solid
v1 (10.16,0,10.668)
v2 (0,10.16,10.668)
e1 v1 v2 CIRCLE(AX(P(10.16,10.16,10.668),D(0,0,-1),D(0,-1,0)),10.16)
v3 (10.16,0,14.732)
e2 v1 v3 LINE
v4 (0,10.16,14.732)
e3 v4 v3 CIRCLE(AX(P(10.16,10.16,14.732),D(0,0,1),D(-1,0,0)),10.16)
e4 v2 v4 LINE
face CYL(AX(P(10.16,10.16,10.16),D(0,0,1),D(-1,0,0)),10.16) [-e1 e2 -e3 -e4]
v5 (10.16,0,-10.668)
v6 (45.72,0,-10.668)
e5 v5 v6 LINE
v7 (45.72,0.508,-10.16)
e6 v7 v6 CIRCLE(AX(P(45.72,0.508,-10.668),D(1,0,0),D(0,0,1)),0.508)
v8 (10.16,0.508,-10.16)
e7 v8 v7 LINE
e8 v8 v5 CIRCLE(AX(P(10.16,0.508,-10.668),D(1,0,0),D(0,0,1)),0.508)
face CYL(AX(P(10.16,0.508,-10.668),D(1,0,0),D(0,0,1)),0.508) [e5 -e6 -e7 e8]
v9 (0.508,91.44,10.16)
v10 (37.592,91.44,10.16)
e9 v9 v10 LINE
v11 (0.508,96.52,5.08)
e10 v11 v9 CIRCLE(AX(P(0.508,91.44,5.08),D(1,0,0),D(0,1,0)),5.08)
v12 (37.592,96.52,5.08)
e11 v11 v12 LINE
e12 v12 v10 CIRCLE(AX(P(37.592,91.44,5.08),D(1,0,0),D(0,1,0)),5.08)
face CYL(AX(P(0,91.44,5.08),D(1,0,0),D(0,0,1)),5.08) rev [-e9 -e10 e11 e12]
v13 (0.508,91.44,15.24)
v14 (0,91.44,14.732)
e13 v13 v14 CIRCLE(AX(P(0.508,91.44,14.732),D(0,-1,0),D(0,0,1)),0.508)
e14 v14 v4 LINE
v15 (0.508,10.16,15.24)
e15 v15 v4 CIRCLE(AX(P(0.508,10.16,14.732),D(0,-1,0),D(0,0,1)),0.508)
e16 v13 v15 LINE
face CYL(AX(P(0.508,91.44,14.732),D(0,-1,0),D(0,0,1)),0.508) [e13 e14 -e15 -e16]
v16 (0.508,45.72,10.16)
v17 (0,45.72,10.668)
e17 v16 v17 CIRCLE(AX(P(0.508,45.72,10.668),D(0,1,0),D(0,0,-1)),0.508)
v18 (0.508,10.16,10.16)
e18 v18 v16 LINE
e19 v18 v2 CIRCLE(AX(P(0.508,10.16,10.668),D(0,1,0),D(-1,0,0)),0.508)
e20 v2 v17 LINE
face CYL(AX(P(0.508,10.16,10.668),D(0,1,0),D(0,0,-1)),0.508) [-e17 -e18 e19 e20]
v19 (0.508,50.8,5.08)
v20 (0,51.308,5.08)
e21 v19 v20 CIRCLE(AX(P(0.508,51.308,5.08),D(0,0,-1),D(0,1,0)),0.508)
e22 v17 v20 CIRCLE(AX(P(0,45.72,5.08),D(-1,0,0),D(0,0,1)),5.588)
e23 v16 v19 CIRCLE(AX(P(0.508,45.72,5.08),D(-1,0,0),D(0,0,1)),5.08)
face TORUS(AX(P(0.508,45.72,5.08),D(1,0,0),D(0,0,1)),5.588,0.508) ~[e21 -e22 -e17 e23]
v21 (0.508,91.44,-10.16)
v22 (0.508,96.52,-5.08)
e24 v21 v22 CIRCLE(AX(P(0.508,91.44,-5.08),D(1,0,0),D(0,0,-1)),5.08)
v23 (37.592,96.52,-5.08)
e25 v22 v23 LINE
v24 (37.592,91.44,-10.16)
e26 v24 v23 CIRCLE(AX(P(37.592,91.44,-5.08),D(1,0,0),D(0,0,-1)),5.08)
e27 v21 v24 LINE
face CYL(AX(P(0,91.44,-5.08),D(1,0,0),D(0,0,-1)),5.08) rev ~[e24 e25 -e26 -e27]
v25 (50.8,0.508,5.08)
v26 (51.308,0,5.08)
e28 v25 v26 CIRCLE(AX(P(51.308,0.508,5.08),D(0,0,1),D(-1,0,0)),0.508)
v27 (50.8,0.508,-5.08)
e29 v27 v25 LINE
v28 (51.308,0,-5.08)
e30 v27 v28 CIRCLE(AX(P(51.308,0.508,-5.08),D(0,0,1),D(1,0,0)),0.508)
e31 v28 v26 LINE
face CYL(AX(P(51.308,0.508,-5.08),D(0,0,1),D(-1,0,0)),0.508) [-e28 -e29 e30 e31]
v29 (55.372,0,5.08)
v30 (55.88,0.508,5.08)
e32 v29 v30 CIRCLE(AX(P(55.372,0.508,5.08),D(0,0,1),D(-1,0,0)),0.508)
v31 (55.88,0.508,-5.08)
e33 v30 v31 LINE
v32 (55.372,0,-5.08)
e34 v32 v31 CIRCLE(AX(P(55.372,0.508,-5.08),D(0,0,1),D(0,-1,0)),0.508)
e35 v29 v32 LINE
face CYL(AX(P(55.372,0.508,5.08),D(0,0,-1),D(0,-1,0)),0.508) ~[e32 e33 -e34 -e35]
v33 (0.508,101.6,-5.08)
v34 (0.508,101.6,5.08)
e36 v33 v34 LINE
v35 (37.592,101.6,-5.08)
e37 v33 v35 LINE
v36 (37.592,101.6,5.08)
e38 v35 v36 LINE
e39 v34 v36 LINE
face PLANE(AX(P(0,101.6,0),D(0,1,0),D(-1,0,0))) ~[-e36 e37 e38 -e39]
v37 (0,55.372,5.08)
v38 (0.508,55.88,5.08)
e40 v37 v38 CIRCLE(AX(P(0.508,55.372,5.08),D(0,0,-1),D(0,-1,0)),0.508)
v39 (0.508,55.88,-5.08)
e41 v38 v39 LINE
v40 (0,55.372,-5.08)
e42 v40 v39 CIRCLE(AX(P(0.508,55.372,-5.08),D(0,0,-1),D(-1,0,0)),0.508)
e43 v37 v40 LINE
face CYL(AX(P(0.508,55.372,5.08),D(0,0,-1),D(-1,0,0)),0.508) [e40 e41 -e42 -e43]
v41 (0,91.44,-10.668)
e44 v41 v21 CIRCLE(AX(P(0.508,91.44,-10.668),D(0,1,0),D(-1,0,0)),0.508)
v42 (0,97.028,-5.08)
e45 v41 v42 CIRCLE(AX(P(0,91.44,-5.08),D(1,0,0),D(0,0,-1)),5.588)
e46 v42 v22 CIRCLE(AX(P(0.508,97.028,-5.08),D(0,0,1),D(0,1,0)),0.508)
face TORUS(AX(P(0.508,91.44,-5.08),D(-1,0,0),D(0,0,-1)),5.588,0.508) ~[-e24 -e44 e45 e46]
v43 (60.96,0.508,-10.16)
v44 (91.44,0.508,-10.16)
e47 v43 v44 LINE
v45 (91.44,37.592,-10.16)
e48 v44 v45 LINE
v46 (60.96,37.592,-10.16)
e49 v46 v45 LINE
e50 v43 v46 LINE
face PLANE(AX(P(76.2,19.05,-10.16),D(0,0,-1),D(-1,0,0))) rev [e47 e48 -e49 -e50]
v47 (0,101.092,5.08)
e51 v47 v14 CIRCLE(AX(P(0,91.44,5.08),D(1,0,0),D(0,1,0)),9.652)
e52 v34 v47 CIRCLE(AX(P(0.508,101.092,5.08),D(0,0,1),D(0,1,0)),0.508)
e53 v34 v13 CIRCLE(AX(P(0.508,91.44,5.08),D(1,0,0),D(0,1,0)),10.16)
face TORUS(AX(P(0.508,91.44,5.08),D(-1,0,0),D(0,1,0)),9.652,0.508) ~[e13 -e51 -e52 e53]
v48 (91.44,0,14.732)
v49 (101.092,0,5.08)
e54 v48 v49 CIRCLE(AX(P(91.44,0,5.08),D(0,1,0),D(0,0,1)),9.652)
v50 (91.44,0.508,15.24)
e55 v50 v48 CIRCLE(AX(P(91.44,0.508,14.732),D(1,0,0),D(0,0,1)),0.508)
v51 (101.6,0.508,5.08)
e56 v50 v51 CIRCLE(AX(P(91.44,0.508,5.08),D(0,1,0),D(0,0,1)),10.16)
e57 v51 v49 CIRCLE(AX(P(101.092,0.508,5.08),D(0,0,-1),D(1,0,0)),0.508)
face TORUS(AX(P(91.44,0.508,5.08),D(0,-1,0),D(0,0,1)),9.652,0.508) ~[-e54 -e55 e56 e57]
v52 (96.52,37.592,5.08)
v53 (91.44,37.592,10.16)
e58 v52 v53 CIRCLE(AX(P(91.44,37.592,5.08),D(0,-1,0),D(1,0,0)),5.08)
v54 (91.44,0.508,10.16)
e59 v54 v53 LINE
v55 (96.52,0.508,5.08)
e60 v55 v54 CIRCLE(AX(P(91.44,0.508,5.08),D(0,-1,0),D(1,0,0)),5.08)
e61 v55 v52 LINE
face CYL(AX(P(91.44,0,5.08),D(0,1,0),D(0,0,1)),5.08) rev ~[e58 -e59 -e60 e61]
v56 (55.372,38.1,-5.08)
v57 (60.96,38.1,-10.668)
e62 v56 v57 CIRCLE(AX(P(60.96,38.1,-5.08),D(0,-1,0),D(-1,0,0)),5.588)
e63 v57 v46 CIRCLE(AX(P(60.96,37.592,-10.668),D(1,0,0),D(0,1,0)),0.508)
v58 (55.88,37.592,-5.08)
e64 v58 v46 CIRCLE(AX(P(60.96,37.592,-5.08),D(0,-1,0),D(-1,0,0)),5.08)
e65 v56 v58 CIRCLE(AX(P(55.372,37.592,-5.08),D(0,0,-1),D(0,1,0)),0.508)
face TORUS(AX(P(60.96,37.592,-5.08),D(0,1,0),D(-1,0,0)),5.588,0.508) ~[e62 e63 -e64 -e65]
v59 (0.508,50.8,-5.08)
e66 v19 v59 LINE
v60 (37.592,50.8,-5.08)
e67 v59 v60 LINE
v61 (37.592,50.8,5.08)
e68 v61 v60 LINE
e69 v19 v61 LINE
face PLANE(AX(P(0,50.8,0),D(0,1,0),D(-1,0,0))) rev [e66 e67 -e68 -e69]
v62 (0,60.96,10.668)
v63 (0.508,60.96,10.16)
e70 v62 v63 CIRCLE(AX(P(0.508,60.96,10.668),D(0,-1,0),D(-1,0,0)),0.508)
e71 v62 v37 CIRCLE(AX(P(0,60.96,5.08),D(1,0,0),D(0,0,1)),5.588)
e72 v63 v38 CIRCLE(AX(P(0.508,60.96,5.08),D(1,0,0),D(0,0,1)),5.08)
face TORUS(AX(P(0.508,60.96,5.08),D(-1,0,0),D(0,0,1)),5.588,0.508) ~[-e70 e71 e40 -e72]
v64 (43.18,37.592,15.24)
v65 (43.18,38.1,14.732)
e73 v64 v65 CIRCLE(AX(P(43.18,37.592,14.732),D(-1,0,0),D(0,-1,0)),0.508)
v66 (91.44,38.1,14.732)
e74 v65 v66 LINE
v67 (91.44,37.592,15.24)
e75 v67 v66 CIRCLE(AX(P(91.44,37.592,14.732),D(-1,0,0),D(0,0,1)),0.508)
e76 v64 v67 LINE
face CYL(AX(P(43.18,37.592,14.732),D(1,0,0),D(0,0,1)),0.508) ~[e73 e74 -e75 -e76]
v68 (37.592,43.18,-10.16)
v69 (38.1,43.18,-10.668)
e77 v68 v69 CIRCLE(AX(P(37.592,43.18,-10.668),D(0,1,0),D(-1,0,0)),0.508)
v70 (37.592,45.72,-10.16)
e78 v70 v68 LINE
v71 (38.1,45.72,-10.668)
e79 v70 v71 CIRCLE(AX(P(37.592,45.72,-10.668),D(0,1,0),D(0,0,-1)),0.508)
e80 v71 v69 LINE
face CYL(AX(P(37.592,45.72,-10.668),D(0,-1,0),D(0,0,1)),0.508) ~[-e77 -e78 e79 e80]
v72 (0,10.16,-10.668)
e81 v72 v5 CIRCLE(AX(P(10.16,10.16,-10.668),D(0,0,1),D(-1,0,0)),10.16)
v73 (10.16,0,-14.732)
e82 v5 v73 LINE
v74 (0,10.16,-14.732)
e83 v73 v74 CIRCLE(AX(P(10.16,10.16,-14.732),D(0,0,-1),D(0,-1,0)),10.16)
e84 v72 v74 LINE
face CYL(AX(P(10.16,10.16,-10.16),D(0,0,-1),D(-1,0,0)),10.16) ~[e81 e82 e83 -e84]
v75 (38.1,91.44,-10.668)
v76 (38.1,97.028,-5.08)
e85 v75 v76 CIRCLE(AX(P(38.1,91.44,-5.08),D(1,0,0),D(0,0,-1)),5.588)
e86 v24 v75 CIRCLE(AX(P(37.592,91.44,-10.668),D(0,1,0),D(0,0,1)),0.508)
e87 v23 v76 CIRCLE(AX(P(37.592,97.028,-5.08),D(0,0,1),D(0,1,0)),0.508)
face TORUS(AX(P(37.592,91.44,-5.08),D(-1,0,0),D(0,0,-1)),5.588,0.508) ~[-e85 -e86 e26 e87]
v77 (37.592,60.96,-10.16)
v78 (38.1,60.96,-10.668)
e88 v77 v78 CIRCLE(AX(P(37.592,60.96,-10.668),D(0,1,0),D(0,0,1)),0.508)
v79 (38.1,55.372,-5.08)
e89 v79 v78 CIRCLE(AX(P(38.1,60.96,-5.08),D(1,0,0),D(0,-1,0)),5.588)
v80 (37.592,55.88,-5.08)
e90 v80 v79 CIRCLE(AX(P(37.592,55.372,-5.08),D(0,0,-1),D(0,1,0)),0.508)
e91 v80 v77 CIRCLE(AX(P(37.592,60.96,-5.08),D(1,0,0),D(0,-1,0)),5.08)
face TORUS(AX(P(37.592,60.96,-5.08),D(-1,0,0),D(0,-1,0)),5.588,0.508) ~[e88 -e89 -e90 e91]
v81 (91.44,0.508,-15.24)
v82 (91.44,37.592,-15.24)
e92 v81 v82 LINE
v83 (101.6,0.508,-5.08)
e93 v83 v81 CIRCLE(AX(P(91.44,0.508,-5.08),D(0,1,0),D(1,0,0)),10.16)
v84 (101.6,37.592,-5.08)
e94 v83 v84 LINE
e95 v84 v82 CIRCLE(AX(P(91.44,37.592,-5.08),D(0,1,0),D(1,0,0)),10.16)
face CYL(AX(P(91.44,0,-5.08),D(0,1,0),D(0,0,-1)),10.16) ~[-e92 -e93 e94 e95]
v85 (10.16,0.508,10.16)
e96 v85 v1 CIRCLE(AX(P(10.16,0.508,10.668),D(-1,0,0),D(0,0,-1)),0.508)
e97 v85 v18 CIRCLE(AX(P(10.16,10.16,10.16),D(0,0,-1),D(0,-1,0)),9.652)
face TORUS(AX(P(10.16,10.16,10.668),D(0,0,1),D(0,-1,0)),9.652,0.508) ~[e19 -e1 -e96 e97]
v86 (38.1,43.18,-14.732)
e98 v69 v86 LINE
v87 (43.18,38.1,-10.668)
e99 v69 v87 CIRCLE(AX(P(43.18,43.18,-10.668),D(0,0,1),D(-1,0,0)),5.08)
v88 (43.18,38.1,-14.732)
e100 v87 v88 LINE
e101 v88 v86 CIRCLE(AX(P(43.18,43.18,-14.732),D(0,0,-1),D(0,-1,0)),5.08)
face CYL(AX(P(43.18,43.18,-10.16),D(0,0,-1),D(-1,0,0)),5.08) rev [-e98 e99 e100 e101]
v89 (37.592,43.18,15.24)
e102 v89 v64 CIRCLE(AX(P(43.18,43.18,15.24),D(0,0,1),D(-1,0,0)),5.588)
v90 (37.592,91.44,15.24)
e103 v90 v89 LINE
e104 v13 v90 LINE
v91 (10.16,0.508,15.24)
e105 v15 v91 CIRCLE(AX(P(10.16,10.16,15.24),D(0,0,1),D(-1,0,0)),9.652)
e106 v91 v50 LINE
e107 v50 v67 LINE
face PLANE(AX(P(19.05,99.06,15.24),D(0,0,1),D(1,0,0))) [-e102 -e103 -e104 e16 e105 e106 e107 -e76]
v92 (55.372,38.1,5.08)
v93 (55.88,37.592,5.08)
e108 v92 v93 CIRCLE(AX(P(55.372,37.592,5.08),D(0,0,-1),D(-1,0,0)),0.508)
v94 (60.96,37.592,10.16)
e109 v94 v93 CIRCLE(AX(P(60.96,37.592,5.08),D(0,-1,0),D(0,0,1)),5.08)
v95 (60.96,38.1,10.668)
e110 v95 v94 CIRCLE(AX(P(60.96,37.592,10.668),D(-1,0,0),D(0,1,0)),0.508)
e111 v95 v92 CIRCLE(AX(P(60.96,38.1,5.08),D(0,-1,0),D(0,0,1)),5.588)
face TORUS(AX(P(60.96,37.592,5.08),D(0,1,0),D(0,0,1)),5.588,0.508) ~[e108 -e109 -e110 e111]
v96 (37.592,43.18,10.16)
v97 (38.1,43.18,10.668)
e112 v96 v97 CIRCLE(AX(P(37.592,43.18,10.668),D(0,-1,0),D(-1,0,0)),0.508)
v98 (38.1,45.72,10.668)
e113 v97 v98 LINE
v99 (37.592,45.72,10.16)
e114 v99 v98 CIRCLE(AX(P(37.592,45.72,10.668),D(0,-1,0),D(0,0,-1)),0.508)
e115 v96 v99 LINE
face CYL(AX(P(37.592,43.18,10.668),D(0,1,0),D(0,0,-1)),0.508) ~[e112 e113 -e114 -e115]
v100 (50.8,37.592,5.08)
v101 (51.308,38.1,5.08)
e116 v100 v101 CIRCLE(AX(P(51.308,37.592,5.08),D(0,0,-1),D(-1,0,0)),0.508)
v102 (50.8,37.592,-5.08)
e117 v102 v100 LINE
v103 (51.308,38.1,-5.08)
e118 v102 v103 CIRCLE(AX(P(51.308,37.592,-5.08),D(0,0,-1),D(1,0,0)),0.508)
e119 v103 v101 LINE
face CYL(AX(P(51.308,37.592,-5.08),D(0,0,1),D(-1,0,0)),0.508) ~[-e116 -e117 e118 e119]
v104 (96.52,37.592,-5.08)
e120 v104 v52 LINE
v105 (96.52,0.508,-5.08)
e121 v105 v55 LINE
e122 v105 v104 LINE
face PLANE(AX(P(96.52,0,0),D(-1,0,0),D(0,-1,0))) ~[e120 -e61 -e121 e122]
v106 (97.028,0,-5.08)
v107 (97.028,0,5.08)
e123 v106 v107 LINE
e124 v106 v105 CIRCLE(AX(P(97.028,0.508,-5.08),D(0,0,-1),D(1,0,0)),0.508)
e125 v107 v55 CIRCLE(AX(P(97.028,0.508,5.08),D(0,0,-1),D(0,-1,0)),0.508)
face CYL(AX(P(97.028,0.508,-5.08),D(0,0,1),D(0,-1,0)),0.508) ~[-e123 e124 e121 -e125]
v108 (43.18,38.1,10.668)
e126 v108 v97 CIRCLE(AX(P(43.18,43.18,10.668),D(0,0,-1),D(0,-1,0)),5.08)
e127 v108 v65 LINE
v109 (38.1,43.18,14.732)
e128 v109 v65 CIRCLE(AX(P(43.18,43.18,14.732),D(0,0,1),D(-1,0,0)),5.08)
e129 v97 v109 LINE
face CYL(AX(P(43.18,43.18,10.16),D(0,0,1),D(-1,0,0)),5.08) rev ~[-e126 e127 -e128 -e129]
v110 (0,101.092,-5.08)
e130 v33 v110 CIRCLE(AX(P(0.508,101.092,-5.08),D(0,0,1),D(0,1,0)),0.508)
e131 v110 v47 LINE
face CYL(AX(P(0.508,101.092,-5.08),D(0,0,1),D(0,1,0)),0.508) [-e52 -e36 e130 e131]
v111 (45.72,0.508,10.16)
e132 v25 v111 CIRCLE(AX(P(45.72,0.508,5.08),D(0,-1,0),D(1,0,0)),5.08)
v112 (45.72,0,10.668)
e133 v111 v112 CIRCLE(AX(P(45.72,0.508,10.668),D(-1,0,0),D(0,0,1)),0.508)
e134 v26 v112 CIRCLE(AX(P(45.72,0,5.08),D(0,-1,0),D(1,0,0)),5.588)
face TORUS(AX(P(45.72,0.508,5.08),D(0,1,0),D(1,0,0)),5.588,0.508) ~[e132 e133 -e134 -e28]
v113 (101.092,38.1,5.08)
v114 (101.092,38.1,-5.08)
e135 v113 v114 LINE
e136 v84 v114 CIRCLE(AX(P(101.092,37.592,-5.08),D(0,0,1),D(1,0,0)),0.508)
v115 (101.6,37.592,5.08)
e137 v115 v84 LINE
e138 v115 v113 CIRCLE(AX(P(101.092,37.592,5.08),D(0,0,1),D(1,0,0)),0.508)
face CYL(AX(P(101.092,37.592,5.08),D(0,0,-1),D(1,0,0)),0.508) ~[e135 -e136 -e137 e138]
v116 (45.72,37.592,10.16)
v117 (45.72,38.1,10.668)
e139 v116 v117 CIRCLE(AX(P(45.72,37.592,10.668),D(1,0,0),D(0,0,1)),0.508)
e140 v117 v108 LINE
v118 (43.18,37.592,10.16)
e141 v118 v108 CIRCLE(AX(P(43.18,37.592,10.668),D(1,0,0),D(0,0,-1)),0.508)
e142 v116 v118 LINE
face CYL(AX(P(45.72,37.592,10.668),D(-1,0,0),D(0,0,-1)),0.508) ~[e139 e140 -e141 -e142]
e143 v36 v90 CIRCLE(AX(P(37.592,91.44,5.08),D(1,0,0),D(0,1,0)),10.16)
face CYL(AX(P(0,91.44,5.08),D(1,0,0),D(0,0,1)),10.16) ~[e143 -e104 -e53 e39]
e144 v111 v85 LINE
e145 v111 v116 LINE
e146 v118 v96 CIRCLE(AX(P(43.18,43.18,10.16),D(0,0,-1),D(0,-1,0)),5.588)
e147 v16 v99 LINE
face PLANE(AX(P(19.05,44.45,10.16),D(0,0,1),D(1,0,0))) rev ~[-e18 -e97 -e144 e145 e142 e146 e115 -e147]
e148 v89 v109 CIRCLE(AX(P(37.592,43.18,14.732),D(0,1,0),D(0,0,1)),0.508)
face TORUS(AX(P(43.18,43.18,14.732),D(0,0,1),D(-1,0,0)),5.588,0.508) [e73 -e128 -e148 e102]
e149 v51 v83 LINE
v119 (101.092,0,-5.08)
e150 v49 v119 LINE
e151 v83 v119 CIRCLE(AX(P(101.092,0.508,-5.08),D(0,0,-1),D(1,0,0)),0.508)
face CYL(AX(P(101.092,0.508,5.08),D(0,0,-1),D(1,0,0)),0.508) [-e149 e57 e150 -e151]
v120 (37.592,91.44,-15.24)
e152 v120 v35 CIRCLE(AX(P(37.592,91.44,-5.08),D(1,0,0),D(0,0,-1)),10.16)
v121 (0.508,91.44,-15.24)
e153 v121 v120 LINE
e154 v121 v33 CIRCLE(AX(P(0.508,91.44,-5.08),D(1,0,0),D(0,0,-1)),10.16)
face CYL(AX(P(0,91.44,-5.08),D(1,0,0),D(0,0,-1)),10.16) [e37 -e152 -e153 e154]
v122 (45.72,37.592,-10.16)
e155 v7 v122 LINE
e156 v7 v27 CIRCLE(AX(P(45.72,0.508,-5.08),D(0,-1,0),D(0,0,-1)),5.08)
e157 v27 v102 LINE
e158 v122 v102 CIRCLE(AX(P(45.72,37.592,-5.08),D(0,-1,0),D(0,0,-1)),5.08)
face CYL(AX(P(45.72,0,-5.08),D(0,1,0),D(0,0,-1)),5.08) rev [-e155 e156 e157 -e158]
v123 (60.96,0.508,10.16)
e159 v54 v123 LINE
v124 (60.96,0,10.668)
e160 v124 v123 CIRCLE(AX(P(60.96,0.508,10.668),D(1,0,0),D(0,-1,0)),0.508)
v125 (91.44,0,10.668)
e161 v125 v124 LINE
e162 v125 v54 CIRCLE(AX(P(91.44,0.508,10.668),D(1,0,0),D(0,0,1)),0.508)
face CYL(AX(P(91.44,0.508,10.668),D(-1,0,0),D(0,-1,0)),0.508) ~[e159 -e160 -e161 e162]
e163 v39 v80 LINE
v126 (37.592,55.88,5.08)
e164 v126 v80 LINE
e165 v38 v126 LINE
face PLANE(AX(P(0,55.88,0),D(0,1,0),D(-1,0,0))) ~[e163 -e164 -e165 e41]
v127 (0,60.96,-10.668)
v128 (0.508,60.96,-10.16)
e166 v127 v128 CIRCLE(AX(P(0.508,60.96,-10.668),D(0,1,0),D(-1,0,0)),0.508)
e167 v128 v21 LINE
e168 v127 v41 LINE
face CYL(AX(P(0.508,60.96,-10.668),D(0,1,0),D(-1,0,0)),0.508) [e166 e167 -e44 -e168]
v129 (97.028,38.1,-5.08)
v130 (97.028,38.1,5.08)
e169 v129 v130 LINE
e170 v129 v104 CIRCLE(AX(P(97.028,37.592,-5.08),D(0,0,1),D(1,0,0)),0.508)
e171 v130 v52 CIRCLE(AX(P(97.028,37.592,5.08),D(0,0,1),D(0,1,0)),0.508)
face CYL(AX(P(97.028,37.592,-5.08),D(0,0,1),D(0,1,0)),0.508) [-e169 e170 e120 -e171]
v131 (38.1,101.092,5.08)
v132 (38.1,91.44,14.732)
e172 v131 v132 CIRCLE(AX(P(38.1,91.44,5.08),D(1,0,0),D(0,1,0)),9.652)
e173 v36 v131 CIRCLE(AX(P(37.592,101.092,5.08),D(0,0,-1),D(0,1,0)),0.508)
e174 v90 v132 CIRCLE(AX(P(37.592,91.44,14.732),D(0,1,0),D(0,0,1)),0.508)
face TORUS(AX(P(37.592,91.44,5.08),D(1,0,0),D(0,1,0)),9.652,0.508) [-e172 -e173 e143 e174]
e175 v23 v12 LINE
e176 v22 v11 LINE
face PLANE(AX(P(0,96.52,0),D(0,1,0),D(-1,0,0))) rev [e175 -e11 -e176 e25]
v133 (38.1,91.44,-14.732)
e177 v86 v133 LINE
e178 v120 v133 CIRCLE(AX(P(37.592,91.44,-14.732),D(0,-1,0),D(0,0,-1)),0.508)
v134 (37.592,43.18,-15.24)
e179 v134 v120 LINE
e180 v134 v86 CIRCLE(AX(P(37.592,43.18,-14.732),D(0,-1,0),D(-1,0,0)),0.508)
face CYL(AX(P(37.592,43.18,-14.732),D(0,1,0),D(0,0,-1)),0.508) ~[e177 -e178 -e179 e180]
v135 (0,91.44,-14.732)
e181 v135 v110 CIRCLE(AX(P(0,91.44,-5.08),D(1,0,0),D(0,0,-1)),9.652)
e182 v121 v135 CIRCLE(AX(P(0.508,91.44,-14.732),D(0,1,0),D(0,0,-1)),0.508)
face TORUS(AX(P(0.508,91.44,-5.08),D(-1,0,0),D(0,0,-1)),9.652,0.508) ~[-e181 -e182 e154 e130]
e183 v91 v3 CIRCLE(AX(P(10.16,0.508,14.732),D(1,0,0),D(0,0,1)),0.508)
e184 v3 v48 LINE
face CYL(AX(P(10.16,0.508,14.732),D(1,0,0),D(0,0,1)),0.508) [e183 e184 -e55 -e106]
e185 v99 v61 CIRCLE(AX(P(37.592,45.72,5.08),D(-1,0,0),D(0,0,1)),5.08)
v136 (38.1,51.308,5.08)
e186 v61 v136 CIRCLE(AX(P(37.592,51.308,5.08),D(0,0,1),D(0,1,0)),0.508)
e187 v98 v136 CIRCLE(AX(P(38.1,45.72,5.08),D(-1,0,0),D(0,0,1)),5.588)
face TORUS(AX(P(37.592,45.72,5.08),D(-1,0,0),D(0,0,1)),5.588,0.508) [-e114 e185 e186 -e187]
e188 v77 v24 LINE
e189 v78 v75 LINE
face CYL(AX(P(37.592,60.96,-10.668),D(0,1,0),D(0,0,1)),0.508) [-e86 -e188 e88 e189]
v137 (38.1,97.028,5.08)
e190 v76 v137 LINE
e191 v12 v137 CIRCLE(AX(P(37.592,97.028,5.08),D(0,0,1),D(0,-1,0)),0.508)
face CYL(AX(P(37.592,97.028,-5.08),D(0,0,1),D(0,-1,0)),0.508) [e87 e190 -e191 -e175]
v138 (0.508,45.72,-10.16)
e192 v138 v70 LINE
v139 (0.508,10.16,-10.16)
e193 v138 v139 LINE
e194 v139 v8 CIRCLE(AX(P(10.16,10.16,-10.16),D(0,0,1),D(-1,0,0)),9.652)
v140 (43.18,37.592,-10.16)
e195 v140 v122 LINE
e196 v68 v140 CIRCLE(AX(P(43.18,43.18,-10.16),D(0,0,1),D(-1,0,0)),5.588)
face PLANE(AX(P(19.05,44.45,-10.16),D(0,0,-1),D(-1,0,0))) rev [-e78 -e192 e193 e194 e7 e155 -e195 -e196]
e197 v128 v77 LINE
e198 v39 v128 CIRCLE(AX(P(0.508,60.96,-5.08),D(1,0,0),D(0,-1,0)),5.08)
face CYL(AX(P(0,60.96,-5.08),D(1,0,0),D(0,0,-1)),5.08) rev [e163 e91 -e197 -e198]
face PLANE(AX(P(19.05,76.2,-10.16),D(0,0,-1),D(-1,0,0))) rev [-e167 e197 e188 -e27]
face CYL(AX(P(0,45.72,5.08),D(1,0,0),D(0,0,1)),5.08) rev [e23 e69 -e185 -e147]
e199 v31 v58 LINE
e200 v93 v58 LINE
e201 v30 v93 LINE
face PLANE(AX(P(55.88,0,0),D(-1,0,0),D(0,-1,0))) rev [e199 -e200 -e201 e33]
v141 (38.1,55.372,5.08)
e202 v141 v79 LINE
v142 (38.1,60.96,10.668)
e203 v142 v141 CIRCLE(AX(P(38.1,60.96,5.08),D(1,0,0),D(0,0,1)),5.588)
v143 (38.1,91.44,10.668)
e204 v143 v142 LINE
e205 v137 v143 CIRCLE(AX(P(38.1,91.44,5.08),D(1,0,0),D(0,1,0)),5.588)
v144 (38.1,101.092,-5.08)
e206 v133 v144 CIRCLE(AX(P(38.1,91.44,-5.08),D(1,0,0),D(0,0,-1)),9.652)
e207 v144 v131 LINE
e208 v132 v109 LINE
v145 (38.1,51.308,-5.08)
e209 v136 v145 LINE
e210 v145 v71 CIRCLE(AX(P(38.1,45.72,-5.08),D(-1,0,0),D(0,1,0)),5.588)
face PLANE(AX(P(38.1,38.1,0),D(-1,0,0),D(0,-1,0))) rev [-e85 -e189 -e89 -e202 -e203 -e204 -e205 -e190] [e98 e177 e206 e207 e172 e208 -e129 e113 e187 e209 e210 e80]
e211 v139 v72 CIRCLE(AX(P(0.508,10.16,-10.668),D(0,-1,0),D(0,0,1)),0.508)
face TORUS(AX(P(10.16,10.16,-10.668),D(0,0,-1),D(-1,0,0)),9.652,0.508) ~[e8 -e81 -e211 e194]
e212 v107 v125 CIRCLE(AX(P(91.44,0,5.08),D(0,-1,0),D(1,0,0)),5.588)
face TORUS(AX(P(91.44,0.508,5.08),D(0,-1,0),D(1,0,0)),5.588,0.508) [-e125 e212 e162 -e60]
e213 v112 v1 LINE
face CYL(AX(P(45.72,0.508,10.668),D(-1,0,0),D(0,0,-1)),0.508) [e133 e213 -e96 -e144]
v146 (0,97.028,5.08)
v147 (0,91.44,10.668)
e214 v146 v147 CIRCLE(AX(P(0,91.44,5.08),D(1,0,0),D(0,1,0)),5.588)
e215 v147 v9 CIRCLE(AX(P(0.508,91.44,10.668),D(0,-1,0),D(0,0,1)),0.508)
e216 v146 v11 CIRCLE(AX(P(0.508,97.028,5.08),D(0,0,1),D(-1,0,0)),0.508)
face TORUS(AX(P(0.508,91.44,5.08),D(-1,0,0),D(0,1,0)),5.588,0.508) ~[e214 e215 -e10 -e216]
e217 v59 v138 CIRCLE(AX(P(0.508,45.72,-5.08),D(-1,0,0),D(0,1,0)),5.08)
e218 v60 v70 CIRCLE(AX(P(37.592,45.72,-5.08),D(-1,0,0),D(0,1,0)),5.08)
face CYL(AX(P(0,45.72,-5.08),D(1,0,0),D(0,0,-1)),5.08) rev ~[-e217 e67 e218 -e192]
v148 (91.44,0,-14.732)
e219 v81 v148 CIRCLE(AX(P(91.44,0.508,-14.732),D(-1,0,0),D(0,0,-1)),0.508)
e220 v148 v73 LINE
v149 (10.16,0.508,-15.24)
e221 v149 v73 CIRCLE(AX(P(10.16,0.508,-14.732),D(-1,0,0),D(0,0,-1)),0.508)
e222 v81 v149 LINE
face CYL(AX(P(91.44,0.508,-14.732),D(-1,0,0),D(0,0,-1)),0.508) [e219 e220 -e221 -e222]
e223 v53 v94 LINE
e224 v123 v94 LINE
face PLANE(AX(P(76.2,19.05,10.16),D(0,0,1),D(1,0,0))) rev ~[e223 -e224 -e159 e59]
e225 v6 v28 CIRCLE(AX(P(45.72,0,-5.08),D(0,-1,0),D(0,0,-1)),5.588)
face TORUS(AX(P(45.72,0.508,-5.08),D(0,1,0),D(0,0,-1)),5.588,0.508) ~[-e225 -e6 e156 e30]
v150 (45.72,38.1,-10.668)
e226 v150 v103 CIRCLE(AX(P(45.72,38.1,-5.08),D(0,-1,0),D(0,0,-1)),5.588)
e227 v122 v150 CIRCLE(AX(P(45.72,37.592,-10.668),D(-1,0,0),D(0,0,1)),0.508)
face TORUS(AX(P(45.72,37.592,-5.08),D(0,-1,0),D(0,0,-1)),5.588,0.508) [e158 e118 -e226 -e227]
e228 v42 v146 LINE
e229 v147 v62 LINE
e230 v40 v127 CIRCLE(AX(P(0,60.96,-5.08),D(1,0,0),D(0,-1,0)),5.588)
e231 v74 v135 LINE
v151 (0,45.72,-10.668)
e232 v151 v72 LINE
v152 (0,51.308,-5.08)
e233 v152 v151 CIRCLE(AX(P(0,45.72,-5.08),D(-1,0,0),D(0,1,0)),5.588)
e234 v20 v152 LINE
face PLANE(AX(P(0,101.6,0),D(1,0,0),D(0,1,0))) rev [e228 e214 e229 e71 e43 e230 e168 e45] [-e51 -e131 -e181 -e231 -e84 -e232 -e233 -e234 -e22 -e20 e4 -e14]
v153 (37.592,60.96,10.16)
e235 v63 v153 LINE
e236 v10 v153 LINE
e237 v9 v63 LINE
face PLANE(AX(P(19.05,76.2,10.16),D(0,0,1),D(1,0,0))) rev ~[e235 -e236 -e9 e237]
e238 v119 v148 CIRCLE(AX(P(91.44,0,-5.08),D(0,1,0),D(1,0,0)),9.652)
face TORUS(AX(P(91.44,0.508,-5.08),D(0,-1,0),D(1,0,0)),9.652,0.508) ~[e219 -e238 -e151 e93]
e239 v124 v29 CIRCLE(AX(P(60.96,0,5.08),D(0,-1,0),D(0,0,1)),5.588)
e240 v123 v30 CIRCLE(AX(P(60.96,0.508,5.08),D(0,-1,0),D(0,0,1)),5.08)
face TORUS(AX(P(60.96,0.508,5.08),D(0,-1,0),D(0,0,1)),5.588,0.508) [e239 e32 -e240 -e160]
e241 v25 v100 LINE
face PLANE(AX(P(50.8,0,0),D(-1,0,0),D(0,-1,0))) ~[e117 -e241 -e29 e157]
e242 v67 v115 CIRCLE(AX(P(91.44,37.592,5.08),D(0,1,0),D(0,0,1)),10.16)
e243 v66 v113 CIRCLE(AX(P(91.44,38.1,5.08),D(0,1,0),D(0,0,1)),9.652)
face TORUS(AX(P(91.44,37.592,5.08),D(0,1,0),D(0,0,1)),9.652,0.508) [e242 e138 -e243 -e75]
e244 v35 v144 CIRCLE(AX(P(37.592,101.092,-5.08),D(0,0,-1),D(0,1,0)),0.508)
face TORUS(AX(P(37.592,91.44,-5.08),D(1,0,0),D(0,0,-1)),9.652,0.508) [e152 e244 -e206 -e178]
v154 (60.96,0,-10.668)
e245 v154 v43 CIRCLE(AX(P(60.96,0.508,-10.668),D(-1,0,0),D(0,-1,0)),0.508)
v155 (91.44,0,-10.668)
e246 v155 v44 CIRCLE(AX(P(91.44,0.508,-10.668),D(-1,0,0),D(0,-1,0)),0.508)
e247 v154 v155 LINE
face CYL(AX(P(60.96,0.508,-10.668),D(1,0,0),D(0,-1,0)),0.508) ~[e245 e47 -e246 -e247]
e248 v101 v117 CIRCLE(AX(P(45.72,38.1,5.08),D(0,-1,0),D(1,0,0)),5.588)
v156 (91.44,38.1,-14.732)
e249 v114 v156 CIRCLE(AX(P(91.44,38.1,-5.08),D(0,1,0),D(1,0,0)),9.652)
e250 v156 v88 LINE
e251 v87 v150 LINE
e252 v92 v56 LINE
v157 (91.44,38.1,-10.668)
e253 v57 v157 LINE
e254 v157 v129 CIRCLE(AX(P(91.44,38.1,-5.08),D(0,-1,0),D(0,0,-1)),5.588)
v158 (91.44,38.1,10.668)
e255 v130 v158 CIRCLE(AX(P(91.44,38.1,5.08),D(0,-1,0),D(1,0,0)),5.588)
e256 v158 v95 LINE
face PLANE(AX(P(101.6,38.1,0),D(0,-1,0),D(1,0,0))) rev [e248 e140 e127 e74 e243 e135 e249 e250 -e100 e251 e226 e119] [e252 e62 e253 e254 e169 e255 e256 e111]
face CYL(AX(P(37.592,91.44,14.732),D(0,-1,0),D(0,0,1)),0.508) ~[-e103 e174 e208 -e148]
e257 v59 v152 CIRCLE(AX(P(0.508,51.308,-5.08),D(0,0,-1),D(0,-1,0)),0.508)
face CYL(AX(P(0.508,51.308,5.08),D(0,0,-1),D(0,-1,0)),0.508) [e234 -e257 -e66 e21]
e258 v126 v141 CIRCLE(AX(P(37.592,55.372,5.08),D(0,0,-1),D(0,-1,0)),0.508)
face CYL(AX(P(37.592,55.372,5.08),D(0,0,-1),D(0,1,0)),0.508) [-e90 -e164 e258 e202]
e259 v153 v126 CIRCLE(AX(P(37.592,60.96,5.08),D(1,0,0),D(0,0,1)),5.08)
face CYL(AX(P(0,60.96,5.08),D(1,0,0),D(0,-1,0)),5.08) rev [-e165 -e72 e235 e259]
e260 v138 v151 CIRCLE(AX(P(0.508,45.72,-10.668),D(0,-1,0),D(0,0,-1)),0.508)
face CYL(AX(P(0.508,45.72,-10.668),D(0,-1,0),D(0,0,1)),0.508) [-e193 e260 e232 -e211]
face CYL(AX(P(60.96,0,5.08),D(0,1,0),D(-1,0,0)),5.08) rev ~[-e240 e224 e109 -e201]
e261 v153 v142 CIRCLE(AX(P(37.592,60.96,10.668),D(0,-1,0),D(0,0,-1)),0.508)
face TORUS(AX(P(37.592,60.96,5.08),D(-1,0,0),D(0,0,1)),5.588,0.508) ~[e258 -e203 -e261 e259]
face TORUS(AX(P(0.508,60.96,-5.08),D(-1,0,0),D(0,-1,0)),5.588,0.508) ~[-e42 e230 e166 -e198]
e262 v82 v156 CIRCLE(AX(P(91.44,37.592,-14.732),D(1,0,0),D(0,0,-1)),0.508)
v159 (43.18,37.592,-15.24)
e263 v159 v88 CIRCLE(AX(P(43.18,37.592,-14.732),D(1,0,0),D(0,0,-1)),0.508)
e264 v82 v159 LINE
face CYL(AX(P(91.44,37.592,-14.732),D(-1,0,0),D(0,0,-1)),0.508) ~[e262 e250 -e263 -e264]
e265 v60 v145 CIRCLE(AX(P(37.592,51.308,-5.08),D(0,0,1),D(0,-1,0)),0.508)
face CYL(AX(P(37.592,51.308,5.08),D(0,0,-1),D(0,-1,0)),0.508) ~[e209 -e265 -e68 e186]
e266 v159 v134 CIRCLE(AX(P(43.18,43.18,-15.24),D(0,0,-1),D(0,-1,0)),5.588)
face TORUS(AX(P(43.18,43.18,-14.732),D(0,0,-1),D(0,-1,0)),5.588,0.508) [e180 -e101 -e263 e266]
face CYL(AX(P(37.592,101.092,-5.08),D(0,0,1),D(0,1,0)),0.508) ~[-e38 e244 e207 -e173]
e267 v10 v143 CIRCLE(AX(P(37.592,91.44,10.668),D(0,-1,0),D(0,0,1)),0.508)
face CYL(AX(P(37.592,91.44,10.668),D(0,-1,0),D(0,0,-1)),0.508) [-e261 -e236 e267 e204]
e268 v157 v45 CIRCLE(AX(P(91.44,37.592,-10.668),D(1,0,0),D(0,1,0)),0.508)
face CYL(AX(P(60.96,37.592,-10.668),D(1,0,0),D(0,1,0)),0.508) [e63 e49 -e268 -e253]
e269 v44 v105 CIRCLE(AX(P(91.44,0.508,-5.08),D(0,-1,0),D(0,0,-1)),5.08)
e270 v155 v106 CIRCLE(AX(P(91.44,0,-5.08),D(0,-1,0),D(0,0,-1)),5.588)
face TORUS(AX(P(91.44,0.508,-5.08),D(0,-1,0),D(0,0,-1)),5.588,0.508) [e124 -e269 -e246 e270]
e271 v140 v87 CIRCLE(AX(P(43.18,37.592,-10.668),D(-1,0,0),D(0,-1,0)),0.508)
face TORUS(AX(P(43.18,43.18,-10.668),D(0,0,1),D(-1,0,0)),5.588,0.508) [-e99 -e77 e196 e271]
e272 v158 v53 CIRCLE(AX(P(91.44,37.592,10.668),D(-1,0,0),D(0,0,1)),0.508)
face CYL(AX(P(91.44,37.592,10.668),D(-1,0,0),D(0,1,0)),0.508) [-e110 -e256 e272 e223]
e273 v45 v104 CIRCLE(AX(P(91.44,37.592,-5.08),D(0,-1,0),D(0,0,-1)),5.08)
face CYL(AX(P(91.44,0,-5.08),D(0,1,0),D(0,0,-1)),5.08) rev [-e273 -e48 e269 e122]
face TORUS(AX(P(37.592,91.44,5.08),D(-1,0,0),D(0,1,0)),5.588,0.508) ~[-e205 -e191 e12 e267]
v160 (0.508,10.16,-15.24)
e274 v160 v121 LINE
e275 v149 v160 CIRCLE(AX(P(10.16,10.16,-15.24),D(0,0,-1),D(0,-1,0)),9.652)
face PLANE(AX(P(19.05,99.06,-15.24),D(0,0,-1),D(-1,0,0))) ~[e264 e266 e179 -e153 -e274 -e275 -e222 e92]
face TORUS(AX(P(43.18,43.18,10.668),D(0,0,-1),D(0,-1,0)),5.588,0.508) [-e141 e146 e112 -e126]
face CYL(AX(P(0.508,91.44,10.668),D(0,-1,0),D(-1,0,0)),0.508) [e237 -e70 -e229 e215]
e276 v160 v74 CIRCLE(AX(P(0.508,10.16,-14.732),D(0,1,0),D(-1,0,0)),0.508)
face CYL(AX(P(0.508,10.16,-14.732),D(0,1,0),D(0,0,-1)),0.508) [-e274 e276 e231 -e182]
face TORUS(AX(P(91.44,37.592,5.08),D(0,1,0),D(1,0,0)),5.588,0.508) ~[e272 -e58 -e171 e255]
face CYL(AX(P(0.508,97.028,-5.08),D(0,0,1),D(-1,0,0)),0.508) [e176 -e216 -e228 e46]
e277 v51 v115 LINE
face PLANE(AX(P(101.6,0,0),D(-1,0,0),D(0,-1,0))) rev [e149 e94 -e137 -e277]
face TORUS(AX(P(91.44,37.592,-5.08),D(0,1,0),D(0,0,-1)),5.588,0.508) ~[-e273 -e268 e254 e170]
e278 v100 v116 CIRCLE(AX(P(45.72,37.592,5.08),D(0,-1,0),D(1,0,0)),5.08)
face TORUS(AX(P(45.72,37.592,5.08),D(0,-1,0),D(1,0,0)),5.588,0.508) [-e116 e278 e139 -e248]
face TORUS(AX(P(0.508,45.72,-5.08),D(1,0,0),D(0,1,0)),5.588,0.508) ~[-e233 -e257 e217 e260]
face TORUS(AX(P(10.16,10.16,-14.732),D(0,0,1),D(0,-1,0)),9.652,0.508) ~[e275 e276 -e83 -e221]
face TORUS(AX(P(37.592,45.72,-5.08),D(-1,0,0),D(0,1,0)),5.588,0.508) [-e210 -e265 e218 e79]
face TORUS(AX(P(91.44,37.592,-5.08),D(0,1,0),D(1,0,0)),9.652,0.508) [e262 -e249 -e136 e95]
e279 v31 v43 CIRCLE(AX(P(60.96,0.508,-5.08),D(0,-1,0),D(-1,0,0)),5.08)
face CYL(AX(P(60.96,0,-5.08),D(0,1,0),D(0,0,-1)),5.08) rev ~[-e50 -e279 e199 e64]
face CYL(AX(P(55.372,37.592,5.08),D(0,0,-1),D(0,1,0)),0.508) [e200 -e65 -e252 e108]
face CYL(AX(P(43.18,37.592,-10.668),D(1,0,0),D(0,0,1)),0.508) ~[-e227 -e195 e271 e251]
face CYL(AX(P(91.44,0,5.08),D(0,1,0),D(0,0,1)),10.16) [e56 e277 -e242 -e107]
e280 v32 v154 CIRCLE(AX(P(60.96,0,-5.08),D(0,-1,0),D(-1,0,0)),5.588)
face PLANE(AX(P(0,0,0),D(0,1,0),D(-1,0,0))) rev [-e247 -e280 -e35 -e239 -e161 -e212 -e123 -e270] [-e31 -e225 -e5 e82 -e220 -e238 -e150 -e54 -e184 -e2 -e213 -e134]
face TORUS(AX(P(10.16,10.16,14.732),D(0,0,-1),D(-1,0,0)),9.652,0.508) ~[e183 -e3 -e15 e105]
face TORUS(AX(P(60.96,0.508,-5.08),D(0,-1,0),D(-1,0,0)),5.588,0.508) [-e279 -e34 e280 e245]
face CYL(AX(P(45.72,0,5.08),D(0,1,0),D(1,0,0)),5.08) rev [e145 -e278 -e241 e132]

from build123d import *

# Parameters (mm, degrees)
F0_W     = 38.1
F0_H     = 5.08
F0_H_2   = 40.64
F0_H_3   = 12.7
F0_H_4   = 38.1
F0_W_2   = 12.7
F0_W_3   = 5.08
F0_W_4   = 40.64
F1_DEPTH = 15.24
F2_DEPTH = 10.16
F4_R     = 5.08
F5_R     = 10.16
F6_R     = 0.508


with BuildPart() as f1:
    # F0 (on Top) → F1 (new body)
    with BuildSketch(Plane.XY):
        with Locations((19.05, 99.06)):
            Rectangle(F0_W, F0_H)
        with Locations((19.05, 76.2)):
            Rectangle(F0_W, F0_H_2)
        with Locations((19.05, 53.34)):
            Rectangle(F0_W, F0_H)
        with Locations((19.05, 44.45)):
            Rectangle(F0_W, F0_H_3)
        with Locations((19.05, 19.05)):
            Rectangle(F0_W, F0_H_4)
        with Locations((44.45, 19.05)):
            Rectangle(F0_W_2, F0_H_4)
        with Locations((53.34, 19.05)):
            Rectangle(F0_W_3, F0_H_4)
        with Locations((76.2, 19.05)):
            Rectangle(F0_W_4, F0_H_4)
        with Locations((99.06, 19.05)):
            Rectangle(F0_W_3, F0_H_4)
    extrude(amount=F1_DEPTH)

    # F0 (on Top) → F2 (cut)
    with BuildSketch(Plane.XY):
        with Locations((19.05, 76.2)):
            Rectangle(F0_W, F0_H_2)
        with Locations((19.05, 44.45)):
            Rectangle(F0_W, F0_H_3)
        with Locations((19.05, 19.05)):
            Rectangle(F0_W, F0_H_4)
        with Locations((44.45, 19.05)):
            Rectangle(F0_W_2, F0_H_4)
        with Locations((76.2, 19.05)):
            Rectangle(F0_W_4, F0_H_4)
    extrude(amount=F2_DEPTH, mode=Mode.SUBTRACT)

    # F3: F1 across plane


with BuildPart() as f1_1:
    add(f1.part)
    add(f1.part.mirror(Plane.XY))

    # F4
    f4_edges = [f1_1.edges().sort_by_distance(p)[0] for p in [
        (19.05, 96.52, 10.16),
        (19.05, 96.52, -10.16),
        (19.05, 55.88, -10.16),
        (19.05, 50.8, -10.16),
        (19.05, 55.88, 10.16),
        (19.05, 50.8, 10.16),
        (50.8, 19.05, 10.16),
        (50.8, 19.05, -10.16),
        (96.52, 19.05, -10.16),
        (96.52, 19.05, 10.16),
        (55.88, 19.05, 10.16),
        (55.88, 19.05, -10.16),
        (38.1, 38.1, 12.7),
        (38.1, 38.1, -12.7),
    ]]
    fillet(f4_edges, radius=F4_R)

    # F5
    f5_edges = [f1_1.edges().sort_by_distance(p)[0] for p in [
        (0, 0, 12.7),
        (0, 0, -12.7),
        (19.05, 101.6, 15.24),
        (19.05, 101.6, -15.24),
        (101.6, 19.05, 15.24),
        (101.6, 19.05, -15.24),
    ]]
    fillet(f5_edges, radius=F5_R)

    # F6
    f6_edges = [f1_1.edges().sort_by_distance(p)[0] for p in [
        (50.8, 0, 15.24),
        (27.94, 0, -10.16),
        (50.8, 0, -15.24),
        (76.2, 0, -10.16),
        (76.2, 38.1, -10.16),
        (39.587898, 39.587898, -10.16),
        (67.31, 38.1, -15.24),
        (38.1, 76.2, -10.16),
        (0, 76.2, -10.16),
    ]]
    fillet(f6_edges, radius=F6_R)


solid = f1_1.part
